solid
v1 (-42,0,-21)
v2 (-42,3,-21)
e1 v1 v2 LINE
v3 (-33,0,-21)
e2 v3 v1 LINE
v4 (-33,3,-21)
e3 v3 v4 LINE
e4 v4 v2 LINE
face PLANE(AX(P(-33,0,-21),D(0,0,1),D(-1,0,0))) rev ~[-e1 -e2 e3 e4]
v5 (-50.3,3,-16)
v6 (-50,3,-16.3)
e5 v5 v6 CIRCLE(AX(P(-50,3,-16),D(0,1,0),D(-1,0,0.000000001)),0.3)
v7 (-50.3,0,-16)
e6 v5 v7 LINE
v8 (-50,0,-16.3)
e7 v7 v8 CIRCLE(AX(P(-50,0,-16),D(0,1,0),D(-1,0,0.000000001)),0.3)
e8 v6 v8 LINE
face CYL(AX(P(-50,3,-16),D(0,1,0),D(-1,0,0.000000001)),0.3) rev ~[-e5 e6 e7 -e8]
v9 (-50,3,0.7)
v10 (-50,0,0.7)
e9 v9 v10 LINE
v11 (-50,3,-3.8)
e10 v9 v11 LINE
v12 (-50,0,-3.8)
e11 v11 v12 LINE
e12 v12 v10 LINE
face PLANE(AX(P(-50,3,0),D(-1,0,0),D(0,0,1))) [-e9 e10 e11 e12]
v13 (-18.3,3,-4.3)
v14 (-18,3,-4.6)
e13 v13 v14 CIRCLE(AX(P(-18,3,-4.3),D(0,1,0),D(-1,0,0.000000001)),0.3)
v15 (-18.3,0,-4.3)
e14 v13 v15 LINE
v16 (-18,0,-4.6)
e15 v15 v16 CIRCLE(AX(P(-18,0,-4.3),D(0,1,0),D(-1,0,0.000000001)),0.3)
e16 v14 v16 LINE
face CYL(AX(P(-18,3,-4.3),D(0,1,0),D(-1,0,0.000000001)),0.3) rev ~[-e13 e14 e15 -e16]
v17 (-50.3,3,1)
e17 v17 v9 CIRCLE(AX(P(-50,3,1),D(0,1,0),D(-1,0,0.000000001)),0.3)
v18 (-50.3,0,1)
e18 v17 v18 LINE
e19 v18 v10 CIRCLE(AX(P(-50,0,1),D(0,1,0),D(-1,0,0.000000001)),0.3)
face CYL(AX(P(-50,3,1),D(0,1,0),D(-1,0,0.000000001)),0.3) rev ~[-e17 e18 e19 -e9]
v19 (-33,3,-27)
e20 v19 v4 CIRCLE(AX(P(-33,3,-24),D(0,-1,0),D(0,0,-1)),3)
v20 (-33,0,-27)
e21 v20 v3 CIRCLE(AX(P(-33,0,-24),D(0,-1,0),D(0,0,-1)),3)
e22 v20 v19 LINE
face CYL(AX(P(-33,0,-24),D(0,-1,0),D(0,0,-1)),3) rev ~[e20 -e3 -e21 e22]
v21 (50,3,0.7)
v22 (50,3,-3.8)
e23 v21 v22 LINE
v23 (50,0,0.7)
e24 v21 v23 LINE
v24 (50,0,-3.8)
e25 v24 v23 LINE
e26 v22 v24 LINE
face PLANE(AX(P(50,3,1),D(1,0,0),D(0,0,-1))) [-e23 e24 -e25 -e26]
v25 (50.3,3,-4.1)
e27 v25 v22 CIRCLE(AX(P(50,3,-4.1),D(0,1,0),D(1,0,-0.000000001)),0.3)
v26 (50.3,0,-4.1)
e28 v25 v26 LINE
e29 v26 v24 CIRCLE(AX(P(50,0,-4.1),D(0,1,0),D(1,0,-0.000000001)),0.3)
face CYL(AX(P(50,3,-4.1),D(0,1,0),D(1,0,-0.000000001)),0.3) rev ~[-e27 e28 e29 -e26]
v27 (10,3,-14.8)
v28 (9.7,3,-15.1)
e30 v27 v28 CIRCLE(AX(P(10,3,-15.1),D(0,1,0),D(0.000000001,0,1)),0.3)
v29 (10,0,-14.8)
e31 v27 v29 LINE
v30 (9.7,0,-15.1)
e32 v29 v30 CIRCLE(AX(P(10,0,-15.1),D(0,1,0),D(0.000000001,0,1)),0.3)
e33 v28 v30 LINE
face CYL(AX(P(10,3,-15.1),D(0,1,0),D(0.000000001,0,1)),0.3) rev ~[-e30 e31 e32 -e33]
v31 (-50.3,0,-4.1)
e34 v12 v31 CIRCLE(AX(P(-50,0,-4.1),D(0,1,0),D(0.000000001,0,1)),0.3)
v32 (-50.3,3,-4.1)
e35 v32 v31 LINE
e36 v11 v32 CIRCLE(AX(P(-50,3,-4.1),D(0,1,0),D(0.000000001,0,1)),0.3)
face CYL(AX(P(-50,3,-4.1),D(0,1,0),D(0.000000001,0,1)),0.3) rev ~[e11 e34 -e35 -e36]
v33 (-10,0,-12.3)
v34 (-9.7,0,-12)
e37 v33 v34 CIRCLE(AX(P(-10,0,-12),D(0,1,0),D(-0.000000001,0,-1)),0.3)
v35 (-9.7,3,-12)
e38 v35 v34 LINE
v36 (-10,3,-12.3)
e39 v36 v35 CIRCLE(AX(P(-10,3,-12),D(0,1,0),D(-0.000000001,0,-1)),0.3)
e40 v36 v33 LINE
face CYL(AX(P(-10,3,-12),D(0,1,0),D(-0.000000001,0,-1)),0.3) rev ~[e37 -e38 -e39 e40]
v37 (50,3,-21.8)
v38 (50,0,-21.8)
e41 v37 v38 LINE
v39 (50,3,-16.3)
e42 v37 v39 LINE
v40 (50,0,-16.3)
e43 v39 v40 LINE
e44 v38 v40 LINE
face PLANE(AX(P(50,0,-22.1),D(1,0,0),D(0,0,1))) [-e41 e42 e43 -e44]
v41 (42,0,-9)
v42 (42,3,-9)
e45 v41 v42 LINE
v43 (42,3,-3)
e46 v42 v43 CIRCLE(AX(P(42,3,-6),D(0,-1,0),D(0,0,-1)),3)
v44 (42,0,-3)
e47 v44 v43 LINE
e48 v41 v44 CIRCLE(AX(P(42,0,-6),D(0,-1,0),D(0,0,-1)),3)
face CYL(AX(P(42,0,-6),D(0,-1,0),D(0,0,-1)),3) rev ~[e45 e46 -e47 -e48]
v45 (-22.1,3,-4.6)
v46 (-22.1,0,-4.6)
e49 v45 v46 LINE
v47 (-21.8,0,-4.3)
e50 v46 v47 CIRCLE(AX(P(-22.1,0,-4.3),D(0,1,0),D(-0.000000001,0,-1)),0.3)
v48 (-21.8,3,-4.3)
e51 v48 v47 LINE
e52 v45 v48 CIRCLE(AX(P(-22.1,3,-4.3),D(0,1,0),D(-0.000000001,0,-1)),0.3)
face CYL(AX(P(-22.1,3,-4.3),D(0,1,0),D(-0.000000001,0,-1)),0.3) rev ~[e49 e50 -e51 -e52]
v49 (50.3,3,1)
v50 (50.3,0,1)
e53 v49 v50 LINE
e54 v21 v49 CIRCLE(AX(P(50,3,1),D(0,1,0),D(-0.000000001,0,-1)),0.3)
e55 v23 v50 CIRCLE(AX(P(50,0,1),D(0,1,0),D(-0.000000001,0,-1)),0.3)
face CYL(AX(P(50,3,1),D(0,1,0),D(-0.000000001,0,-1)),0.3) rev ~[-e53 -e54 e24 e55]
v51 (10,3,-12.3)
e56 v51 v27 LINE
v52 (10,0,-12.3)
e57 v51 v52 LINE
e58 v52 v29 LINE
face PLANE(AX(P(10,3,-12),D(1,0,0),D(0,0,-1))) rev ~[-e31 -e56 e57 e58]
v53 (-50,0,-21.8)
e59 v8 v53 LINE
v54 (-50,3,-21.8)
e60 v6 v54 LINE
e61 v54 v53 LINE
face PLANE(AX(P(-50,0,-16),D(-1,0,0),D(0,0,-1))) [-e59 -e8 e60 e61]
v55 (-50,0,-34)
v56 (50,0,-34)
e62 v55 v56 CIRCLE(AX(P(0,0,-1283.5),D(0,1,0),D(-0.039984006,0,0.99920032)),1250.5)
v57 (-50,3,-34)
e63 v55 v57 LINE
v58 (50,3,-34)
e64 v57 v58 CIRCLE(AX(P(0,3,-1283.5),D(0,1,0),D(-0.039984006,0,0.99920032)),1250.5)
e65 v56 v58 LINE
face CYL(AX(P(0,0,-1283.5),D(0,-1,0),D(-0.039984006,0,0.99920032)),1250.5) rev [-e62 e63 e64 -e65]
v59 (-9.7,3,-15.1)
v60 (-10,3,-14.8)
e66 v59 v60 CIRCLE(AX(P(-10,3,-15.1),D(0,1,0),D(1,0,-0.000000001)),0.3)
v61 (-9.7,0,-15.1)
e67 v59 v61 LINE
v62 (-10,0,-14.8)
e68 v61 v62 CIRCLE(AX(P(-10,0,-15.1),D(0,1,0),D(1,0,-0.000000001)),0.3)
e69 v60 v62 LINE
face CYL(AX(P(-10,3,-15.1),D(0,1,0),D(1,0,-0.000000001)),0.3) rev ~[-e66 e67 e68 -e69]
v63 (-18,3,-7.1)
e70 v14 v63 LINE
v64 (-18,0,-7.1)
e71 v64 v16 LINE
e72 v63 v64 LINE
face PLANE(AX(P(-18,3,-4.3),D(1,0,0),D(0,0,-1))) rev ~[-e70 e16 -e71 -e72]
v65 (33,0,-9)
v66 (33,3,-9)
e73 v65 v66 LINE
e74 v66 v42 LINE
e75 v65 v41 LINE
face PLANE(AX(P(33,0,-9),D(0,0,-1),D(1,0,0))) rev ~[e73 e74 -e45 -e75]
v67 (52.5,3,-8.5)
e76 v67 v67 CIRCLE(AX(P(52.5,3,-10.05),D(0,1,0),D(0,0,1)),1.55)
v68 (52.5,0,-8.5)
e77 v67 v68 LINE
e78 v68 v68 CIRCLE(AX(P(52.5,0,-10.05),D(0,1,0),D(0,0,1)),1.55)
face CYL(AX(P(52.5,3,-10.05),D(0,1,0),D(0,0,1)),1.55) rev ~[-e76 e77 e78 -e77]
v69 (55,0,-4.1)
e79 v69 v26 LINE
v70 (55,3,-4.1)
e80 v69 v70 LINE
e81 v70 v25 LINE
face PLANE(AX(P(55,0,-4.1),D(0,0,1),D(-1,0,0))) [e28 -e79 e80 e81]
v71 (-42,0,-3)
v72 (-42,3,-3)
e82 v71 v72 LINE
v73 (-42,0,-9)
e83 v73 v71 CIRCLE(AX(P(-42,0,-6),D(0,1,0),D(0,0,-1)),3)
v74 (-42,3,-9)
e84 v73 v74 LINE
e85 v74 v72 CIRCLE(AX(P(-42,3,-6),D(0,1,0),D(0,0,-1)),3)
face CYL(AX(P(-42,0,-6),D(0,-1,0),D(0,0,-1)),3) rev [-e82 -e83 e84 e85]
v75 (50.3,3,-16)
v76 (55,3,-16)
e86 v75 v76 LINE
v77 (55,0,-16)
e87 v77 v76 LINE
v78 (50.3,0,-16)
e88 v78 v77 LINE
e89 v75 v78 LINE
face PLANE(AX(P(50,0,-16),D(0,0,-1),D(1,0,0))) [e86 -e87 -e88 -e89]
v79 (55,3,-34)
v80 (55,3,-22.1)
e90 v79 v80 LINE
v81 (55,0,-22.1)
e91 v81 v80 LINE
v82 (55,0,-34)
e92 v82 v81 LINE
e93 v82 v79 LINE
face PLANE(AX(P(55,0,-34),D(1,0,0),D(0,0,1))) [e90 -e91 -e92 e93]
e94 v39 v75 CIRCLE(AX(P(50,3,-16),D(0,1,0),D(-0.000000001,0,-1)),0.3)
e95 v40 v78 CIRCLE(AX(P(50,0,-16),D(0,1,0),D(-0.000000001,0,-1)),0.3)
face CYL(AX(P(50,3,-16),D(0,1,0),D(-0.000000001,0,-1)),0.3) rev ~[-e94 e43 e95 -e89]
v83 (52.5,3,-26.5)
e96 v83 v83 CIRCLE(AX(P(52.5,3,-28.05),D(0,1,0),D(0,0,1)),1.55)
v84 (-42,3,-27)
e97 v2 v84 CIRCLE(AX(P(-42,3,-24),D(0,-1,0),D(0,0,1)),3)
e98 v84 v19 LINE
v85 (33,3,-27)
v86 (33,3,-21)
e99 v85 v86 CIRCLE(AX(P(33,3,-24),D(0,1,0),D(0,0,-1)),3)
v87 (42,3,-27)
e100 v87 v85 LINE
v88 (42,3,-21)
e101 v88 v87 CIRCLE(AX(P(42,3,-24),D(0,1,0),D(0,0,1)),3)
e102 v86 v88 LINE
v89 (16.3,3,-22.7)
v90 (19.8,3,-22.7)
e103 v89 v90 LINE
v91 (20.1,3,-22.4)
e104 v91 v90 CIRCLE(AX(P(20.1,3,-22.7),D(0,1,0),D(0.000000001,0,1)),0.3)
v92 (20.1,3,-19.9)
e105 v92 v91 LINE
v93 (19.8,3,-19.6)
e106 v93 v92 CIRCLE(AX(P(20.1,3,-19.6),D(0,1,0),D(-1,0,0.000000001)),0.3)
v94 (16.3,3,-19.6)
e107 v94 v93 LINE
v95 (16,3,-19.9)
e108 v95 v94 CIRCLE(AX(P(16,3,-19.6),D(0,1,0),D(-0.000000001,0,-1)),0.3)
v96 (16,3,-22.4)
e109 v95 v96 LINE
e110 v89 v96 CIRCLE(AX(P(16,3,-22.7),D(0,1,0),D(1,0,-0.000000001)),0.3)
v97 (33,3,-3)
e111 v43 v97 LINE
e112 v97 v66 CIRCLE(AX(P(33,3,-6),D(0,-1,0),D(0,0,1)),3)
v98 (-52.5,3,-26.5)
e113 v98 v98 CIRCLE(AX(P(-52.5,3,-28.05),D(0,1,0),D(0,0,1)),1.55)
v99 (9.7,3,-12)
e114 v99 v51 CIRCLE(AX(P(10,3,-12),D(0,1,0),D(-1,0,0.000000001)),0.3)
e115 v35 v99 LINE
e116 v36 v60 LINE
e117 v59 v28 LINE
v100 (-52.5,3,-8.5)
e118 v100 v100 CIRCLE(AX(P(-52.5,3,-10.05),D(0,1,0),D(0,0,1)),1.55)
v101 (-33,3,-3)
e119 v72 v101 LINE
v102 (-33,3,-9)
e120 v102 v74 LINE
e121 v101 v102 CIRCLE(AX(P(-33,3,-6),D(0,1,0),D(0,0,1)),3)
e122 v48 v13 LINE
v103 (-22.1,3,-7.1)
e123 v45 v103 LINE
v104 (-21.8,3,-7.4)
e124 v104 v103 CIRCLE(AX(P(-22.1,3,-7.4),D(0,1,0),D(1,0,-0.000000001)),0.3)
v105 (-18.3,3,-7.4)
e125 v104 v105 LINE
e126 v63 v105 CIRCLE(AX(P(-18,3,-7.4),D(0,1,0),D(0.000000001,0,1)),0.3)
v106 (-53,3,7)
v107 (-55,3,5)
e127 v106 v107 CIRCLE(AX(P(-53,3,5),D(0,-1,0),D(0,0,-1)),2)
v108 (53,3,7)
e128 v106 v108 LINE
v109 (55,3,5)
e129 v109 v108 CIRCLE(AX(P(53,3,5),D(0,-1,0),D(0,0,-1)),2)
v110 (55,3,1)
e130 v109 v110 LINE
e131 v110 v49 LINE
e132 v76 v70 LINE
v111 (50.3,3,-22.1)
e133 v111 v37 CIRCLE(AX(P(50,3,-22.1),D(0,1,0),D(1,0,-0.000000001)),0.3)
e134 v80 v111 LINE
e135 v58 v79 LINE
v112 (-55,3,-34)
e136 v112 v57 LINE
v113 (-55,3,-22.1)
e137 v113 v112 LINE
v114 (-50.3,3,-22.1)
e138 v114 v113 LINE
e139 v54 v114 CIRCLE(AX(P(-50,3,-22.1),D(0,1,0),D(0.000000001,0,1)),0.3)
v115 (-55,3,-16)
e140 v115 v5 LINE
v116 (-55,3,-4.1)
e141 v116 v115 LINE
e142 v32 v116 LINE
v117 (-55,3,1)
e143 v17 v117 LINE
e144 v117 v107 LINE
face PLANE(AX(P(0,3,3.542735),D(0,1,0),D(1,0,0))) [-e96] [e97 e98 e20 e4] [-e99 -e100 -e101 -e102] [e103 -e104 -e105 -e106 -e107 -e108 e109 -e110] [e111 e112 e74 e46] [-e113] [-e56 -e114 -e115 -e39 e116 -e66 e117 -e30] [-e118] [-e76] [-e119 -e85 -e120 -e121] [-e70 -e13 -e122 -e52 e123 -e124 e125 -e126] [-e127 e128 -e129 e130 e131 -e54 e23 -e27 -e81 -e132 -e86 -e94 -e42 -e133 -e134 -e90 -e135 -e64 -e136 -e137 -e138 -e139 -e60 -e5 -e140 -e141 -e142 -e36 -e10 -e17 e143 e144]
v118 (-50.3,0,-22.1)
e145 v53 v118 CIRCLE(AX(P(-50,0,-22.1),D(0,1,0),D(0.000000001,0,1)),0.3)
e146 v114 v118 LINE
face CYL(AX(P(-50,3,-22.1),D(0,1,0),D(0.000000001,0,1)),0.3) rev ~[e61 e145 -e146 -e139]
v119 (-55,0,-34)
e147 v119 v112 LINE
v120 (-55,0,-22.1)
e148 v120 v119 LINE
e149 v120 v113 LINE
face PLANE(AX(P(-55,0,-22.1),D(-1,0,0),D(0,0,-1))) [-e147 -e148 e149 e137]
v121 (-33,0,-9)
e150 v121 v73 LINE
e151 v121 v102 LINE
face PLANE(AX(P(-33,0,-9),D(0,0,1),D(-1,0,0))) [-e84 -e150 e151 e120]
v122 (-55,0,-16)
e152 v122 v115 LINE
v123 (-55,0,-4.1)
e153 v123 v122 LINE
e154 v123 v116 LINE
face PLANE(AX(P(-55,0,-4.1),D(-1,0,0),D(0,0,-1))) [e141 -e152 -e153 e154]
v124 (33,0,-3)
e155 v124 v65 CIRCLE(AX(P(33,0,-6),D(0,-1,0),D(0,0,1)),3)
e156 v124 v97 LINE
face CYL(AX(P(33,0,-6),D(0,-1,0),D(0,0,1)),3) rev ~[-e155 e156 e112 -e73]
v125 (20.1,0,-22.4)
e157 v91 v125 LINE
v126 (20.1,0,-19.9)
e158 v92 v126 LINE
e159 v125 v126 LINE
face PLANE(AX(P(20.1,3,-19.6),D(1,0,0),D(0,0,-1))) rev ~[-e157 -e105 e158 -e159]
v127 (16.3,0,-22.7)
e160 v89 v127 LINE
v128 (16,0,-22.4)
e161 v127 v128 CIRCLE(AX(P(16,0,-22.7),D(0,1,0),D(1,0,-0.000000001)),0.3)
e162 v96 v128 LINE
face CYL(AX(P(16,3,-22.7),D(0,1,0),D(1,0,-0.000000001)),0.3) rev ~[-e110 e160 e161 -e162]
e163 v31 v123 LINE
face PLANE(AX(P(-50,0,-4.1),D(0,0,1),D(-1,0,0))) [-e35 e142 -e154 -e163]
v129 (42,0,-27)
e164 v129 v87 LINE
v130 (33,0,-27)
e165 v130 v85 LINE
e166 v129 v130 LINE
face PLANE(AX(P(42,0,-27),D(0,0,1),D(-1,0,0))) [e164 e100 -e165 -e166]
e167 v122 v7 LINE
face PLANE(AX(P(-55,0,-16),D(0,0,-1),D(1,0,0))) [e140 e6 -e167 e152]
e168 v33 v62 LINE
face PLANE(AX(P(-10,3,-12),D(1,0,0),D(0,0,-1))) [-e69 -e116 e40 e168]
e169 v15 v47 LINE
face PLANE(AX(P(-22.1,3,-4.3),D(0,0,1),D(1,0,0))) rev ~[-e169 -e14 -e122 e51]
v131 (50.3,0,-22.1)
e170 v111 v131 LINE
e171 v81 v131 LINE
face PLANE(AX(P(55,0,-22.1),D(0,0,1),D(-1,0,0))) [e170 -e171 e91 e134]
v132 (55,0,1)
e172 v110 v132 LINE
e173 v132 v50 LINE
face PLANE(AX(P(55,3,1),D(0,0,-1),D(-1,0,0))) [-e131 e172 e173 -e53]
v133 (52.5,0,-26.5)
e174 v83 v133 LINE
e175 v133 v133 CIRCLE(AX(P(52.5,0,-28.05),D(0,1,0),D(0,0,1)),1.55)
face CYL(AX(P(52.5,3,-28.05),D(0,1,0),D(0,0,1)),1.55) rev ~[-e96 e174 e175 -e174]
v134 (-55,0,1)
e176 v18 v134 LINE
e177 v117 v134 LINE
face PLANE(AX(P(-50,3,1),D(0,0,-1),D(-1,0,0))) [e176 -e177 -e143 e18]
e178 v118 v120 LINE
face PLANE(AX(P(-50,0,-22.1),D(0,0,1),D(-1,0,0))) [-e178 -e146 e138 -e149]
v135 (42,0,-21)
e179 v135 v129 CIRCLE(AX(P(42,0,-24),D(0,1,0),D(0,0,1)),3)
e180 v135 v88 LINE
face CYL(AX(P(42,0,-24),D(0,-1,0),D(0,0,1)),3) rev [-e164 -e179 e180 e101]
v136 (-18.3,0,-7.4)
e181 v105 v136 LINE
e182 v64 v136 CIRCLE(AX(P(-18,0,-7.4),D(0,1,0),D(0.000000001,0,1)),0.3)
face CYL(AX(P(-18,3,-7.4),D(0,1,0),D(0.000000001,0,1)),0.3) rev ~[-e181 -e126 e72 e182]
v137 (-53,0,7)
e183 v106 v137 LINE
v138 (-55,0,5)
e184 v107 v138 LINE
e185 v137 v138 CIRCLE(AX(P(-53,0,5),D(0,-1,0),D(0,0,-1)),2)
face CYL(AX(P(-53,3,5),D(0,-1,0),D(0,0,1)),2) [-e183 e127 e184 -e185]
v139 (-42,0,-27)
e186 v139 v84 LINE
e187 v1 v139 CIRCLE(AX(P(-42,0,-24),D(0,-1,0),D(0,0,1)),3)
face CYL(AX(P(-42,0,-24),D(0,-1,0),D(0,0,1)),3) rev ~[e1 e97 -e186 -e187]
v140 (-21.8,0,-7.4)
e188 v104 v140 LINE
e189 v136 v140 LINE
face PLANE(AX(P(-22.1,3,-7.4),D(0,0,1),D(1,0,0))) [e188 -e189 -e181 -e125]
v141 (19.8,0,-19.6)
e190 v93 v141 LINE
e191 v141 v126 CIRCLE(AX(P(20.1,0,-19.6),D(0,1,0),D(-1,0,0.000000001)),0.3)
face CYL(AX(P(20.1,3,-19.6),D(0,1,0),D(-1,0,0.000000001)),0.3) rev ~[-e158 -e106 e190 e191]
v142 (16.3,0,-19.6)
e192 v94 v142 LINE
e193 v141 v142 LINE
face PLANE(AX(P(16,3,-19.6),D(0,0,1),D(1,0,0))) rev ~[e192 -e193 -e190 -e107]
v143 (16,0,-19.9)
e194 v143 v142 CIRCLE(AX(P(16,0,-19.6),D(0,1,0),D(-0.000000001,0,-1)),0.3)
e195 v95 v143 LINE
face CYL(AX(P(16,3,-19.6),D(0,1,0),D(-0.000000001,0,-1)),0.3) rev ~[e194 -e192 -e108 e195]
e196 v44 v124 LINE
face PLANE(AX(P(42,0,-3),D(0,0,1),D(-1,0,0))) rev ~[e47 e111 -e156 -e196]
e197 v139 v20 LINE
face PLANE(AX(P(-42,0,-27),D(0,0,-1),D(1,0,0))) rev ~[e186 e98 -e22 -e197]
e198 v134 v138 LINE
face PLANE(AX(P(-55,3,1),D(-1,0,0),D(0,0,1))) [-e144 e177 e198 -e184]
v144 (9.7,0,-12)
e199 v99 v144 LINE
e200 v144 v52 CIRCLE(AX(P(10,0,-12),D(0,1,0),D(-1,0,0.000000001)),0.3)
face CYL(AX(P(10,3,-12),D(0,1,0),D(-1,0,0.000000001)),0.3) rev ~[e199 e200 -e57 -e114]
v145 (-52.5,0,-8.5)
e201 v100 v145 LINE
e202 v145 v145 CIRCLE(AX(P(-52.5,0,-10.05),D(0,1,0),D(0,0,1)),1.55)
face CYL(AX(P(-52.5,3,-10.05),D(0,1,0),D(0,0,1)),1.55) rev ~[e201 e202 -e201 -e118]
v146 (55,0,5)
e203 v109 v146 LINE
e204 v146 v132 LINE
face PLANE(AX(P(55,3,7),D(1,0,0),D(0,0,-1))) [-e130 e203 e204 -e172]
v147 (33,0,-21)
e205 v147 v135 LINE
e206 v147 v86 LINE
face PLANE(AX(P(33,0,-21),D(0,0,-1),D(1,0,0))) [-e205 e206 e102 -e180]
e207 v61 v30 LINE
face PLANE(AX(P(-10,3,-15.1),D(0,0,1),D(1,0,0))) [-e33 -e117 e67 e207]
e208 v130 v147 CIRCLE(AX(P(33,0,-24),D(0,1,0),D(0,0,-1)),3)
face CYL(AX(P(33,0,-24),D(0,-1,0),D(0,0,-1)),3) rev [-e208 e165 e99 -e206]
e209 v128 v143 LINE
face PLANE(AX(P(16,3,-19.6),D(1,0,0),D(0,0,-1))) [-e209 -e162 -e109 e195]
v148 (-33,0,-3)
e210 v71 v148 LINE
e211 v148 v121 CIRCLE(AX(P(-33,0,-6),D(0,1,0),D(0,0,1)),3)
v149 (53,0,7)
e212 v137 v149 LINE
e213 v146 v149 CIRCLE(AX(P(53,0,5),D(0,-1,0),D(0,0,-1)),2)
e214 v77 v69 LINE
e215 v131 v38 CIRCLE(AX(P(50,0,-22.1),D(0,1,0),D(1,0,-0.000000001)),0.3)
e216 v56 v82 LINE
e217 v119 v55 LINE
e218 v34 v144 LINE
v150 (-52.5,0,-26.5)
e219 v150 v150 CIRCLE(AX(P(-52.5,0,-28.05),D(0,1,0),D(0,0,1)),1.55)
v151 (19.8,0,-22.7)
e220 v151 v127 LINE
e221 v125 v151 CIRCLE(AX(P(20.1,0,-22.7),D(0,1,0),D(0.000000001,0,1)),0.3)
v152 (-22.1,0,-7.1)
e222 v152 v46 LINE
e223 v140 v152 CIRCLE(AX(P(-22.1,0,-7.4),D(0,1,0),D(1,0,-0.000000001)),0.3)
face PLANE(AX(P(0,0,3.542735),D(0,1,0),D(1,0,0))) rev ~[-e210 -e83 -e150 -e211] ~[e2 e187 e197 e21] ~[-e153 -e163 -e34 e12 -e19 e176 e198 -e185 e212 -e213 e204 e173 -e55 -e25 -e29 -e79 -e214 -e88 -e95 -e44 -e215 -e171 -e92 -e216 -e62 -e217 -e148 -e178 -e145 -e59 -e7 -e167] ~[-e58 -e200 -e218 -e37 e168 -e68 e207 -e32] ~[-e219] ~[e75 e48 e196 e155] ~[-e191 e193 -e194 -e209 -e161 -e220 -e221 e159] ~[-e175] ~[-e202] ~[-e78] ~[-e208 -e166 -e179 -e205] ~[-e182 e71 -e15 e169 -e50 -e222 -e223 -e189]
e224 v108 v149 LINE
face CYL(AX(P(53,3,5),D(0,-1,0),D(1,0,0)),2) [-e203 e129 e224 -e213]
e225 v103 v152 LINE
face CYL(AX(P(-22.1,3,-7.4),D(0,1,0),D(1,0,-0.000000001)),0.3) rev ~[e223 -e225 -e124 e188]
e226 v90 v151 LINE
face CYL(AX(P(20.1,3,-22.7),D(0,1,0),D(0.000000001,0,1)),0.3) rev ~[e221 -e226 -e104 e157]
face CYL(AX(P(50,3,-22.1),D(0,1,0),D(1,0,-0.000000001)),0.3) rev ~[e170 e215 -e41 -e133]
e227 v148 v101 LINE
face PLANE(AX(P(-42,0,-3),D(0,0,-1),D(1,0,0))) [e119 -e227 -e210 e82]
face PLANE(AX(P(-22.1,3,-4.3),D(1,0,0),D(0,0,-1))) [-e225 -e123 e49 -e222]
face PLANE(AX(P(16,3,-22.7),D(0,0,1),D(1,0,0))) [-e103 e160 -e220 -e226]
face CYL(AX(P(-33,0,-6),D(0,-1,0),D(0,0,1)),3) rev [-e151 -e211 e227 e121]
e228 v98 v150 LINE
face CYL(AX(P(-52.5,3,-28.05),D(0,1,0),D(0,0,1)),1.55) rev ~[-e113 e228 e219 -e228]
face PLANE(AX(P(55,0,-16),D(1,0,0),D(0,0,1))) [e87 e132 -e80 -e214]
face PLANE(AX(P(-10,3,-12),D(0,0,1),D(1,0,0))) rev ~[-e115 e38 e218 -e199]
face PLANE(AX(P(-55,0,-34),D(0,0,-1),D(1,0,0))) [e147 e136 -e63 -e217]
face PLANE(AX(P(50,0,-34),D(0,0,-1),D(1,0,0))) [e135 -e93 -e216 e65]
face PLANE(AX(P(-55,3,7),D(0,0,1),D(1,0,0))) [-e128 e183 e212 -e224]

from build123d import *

# Parameters (mm, degrees)
BOSS_EXTRUDE1_DEPTH = 3
SKETCH2_W           = 4.1
SKETCH2_H           = 3.1
CUT_EXTRUDE1_DEPTH  = 10
BOSS_EXTRUDE2_DEPTH = 3
FILLET2_R           = 2
SKETCH5_W           = 20
SKETCH5_H           = 3.1
SKETCH5_R           = 1.55
CUT_EXTRUDE3_DEPTH  = 3
CUT_EXTRUDE2_DEPTH  = 10


with BuildPart() as part:
    # Sketch1 → Boss-Extrude1 (new body)
    with BuildSketch(Plane(origin=(0, 0, 0), x_dir=(1, 0, 0), z_dir=(0, 1, 0))):
        with BuildLine():
            Line((55, 34), (55, 22.1))
            Line((55, 22.1), (50, 22.1))
            Line((50, 22.1), (50, 16))
            Line((50, 16), (55, 16))
            Line((55, 16), (55, 4.1))
            Line((55, 4.1), (50, 4.1))
            Line((50, 4.1), (50, 0))
            Line((50, 0), (-50, 0))
            Line((-50, 0), (-50, 4.1))
            Line((-50, 4.1), (-55, 4.1))
            Line((-55, 4.1), (-55, 16))
            Line((-55, 16), (-50, 16))
            Line((-50, 16), (-50, 22.1))
            Line((-50, 22.1), (-55, 22.1))
            Line((-55, 22.1), (-55, 34))
            Line((-55, 34), (-50, 34))
            ThreePointArc((-50, 34), (0, 33), (50, 34))
            Line((50, 34), (55, 34))
        make_face()
        with BuildLine():
            Line((33, 9), (42, 9))
            ThreePointArc((42, 9), (45, 6), (42, 3))
            Line((42, 3), (33, 3))
            ThreePointArc((33, 3), (30, 6), (33, 9))
        make_face(mode=Mode.SUBTRACT)
        with BuildLine():
            Line((-33, 21), (-42, 21))
            ThreePointArc((-42, 21), (-45, 24), (-42, 27))
            Line((-42, 27), (-33, 27))
            ThreePointArc((-33, 27), (-30, 24), (-33, 21))
        make_face(mode=Mode.SUBTRACT)
        with BuildLine():
            Line((42, 27), (33, 27))
            ThreePointArc((33, 27), (30, 24), (33, 21))
            Line((33, 21), (42, 21))
            ThreePointArc((42, 21), (45, 24), (42, 27))
        make_face(mode=Mode.SUBTRACT)
        with BuildLine():
            Line((-42, 3), (-33, 3))
            ThreePointArc((-33, 3), (-30, 6), (-33, 9))
            Line((-33, 9), (-42, 9))
            ThreePointArc((-42, 9), (-45, 6), (-42, 3))
        make_face(mode=Mode.SUBTRACT)
    extrude(amount=BOSS_EXTRUDE1_DEPTH)

    # Sketch2 → Cut-Extrude1 (cut)
    with BuildSketch(Plane(origin=(0, 3, 0), x_dir=(1, 0, 0), z_dir=(0, 1, 0))):
        with Locations((-20.05, 5.85)):
            Rectangle(SKETCH2_W, SKETCH2_H)
        with Locations((18.05, 21.15)):
            Rectangle(SKETCH2_W, SKETCH2_H)
    extrude(amount=-CUT_EXTRUDE1_DEPTH, mode=Mode.SUBTRACT)

    # Sketch3 → Boss-Extrude2 (add)
    with BuildSketch(Plane(origin=(0, 3, 0), x_dir=(1, 0, 0), z_dir=(0, 1, 0))):
        Polygon((-50, 0), (-50, -1), (-55, -1), (-55, -7), (55, -7), (55, -1), (50, -1), (50, 0), align=None)
    extrude(amount=-BOSS_EXTRUDE2_DEPTH)

    # Fillet2
    fillet2_edges = [part.edges().sort_by_distance(p)[0] for p in [
        (55, 1.5, 7),
        (-55, 1.5, 7),
    ]]
    fillet(fillet2_edges, radius=FILLET2_R)

    # Sketch5 → Cut-Extrude3 (cut)
    with BuildSketch(Plane(origin=(0, 3, 0), x_dir=(1, 0, 0), z_dir=(0, 1, 0))):
        with Locations((0, 13.55)):
            Rectangle(SKETCH5_W, SKETCH5_H)
        with Locations((52.5, 28.05)):
            Circle(SKETCH5_R)
        with Locations((52.5, 10.05)):
            Circle(SKETCH5_R)
        with Locations((-52.5, 10.05)):
            Circle(SKETCH5_R)
        with Locations((-52.5, 28.05)):
            Circle(SKETCH5_R)
    extrude(amount=-CUT_EXTRUDE3_DEPTH, mode=Mode.SUBTRACT)

    # Sketch4 → Cut-Extrude2 (cut)
    with BuildSketch(Plane(origin=(0, 3, 0), x_dir=(1, 0, 0), z_dir=(0, 1, 0))):
        with BuildLine():
            ThreePointArc((-50, 3.8), (-49.787867966, 4.312132034), (-50.3, 4.1))
            Line((-50.3, 4.1), (-50, 4.1))
            Line((-50, 4.1), (-50, 3.8))
        make_face()
        with BuildLine():
            Line((-50, -0.7), (-50, -1))
            Line((-50, -1), (-50.3, -1))
            ThreePointArc((-50.3, -1), (-49.787867966, -1.212132034), (-50, -0.7))
        make_face()
        with BuildLine():
            ThreePointArc((-50, 21.8), (-49.787867966, 22.312132034), (-50.3, 22.1))
            Line((-50.3, 22.1), (-50, 22.1))
            Line((-50, 22.1), (-50, 21.8))
        make_face()
        with BuildLine():
            ThreePointArc((-50.3, 16), (-49.787867966, 15.787867966), (-50, 16.3))
            Line((-50, 16.3), (-50, 16))
            Line((-50, 16), (-50.3, 16))
        make_face()
        with BuildLine():
            Line((50.3, 16), (50, 16))
            Line((50, 16), (50, 16.3))
            ThreePointArc((50, 16.3), (49.787867966, 15.787867966), (50.3, 16))
        make_face()
        with BuildLine():
            Line((50, 21.8), (50, 22.1))
            Line((50, 22.1), (50.3, 22.1))
            ThreePointArc((50.3, 22.1), (49.787867966, 22.312132034), (50, 21.8))
        make_face()
        with BuildLine():
            Line((50.3, -1), (50, -1))
            Line((50, -1), (50, -0.7))
            ThreePointArc((50, -0.7), (49.787867966, -1.212132034), (50.3, -1))
        make_face()
        with BuildLine():
            Line((50, 3.8), (50, 4.1))
            Line((50, 4.1), (50.3, 4.1))
            ThreePointArc((50.3, 4.1), (49.787867966, 4.312132034), (50, 3.8))
        make_face()
        with BuildLine():
            ThreePointArc((-21.8, 7.4), (-22.312132034, 7.612132034), (-22.1, 7.1))
            Line((-22.1, 7.1), (-22.1, 7.4))
            Line((-22.1, 7.4), (-21.8, 7.4))
        make_face()
        with BuildLine():
            ThreePointArc((-18, 7.1), (-17.787867966, 7.612132034), (-18.3, 7.4))
            Line((-18.3, 7.4), (-18, 7.4))
            Line((-18, 7.4), (-18, 7.1))
        make_face()
        with BuildLine():
            ThreePointArc((-18.3, 4.3), (-17.787867966, 4.087867966), (-18, 4.6))
            Line((-18, 4.6), (-18, 4.3))
            Line((-18, 4.3), (-18.3, 4.3))
        make_face()
        with BuildLine():
            ThreePointArc((-22.1, 4.6), (-22.312132034, 4.087867966), (-21.8, 4.3))
            Line((-21.8, 4.3), (-22.1, 4.3))
            Line((-22.1, 4.3), (-22.1, 4.6))
        make_face()
        with BuildLine():
            ThreePointArc((16.3, 22.7), (15.787867966, 22.912132034), (16, 22.4))
            Line((16, 22.4), (16, 22.7))
            Line((16, 22.7), (16.3, 22.7))
        make_face()
        with BuildLine():
            ThreePointArc((20.1, 22.4), (20.312132034, 22.912132034), (19.8, 22.7))
            Line((19.8, 22.7), (20.1, 22.7))
            Line((20.1, 22.7), (20.1, 22.4))
        make_face()
        with BuildLine():
            ThreePointArc((19.8, 19.6), (20.312132034, 19.387867966), (20.1, 19.9))
            Line((20.1, 19.9), (20.1, 19.6))
            Line((20.1, 19.6), (19.8, 19.6))
        make_face()
        with BuildLine():
            ThreePointArc((16, 19.9), (15.787867966, 19.387867966), (16.3, 19.6))
            Line((16.3, 19.6), (16, 19.6))
            Line((16, 19.6), (16, 19.9))
        make_face()
        with BuildLine():
            ThreePointArc((-9.7, 15.1), (-10.212132034, 15.312132034), (-10, 14.8))
            Line((-10, 14.8), (-10, 15.1))
            Line((-10, 15.1), (-9.7, 15.1))
        make_face()
        with BuildLine():
            ThreePointArc((10, 14.8), (10.212132034, 15.312132034), (9.7, 15.1))
            Line((9.7, 15.1), (10, 15.1))
            Line((10, 15.1), (10, 14.8))
        make_face()
        with BuildLine():
            ThreePointArc((9.7, 12), (10.212132034, 11.787867966), (10, 12.3))
            Line((10, 12.3), (10, 12))
            Line((10, 12), (9.7, 12))
        make_face()
        with BuildLine():
            ThreePointArc((-10, 12.3), (-10.212132034, 11.787867966), (-9.7, 12))
            Line((-9.7, 12), (-10, 12))
            Line((-10, 12), (-10, 12.3))
        make_face()
    extrude(amount=-CUT_EXTRUDE2_DEPTH, mode=Mode.SUBTRACT)


solid = part.part
